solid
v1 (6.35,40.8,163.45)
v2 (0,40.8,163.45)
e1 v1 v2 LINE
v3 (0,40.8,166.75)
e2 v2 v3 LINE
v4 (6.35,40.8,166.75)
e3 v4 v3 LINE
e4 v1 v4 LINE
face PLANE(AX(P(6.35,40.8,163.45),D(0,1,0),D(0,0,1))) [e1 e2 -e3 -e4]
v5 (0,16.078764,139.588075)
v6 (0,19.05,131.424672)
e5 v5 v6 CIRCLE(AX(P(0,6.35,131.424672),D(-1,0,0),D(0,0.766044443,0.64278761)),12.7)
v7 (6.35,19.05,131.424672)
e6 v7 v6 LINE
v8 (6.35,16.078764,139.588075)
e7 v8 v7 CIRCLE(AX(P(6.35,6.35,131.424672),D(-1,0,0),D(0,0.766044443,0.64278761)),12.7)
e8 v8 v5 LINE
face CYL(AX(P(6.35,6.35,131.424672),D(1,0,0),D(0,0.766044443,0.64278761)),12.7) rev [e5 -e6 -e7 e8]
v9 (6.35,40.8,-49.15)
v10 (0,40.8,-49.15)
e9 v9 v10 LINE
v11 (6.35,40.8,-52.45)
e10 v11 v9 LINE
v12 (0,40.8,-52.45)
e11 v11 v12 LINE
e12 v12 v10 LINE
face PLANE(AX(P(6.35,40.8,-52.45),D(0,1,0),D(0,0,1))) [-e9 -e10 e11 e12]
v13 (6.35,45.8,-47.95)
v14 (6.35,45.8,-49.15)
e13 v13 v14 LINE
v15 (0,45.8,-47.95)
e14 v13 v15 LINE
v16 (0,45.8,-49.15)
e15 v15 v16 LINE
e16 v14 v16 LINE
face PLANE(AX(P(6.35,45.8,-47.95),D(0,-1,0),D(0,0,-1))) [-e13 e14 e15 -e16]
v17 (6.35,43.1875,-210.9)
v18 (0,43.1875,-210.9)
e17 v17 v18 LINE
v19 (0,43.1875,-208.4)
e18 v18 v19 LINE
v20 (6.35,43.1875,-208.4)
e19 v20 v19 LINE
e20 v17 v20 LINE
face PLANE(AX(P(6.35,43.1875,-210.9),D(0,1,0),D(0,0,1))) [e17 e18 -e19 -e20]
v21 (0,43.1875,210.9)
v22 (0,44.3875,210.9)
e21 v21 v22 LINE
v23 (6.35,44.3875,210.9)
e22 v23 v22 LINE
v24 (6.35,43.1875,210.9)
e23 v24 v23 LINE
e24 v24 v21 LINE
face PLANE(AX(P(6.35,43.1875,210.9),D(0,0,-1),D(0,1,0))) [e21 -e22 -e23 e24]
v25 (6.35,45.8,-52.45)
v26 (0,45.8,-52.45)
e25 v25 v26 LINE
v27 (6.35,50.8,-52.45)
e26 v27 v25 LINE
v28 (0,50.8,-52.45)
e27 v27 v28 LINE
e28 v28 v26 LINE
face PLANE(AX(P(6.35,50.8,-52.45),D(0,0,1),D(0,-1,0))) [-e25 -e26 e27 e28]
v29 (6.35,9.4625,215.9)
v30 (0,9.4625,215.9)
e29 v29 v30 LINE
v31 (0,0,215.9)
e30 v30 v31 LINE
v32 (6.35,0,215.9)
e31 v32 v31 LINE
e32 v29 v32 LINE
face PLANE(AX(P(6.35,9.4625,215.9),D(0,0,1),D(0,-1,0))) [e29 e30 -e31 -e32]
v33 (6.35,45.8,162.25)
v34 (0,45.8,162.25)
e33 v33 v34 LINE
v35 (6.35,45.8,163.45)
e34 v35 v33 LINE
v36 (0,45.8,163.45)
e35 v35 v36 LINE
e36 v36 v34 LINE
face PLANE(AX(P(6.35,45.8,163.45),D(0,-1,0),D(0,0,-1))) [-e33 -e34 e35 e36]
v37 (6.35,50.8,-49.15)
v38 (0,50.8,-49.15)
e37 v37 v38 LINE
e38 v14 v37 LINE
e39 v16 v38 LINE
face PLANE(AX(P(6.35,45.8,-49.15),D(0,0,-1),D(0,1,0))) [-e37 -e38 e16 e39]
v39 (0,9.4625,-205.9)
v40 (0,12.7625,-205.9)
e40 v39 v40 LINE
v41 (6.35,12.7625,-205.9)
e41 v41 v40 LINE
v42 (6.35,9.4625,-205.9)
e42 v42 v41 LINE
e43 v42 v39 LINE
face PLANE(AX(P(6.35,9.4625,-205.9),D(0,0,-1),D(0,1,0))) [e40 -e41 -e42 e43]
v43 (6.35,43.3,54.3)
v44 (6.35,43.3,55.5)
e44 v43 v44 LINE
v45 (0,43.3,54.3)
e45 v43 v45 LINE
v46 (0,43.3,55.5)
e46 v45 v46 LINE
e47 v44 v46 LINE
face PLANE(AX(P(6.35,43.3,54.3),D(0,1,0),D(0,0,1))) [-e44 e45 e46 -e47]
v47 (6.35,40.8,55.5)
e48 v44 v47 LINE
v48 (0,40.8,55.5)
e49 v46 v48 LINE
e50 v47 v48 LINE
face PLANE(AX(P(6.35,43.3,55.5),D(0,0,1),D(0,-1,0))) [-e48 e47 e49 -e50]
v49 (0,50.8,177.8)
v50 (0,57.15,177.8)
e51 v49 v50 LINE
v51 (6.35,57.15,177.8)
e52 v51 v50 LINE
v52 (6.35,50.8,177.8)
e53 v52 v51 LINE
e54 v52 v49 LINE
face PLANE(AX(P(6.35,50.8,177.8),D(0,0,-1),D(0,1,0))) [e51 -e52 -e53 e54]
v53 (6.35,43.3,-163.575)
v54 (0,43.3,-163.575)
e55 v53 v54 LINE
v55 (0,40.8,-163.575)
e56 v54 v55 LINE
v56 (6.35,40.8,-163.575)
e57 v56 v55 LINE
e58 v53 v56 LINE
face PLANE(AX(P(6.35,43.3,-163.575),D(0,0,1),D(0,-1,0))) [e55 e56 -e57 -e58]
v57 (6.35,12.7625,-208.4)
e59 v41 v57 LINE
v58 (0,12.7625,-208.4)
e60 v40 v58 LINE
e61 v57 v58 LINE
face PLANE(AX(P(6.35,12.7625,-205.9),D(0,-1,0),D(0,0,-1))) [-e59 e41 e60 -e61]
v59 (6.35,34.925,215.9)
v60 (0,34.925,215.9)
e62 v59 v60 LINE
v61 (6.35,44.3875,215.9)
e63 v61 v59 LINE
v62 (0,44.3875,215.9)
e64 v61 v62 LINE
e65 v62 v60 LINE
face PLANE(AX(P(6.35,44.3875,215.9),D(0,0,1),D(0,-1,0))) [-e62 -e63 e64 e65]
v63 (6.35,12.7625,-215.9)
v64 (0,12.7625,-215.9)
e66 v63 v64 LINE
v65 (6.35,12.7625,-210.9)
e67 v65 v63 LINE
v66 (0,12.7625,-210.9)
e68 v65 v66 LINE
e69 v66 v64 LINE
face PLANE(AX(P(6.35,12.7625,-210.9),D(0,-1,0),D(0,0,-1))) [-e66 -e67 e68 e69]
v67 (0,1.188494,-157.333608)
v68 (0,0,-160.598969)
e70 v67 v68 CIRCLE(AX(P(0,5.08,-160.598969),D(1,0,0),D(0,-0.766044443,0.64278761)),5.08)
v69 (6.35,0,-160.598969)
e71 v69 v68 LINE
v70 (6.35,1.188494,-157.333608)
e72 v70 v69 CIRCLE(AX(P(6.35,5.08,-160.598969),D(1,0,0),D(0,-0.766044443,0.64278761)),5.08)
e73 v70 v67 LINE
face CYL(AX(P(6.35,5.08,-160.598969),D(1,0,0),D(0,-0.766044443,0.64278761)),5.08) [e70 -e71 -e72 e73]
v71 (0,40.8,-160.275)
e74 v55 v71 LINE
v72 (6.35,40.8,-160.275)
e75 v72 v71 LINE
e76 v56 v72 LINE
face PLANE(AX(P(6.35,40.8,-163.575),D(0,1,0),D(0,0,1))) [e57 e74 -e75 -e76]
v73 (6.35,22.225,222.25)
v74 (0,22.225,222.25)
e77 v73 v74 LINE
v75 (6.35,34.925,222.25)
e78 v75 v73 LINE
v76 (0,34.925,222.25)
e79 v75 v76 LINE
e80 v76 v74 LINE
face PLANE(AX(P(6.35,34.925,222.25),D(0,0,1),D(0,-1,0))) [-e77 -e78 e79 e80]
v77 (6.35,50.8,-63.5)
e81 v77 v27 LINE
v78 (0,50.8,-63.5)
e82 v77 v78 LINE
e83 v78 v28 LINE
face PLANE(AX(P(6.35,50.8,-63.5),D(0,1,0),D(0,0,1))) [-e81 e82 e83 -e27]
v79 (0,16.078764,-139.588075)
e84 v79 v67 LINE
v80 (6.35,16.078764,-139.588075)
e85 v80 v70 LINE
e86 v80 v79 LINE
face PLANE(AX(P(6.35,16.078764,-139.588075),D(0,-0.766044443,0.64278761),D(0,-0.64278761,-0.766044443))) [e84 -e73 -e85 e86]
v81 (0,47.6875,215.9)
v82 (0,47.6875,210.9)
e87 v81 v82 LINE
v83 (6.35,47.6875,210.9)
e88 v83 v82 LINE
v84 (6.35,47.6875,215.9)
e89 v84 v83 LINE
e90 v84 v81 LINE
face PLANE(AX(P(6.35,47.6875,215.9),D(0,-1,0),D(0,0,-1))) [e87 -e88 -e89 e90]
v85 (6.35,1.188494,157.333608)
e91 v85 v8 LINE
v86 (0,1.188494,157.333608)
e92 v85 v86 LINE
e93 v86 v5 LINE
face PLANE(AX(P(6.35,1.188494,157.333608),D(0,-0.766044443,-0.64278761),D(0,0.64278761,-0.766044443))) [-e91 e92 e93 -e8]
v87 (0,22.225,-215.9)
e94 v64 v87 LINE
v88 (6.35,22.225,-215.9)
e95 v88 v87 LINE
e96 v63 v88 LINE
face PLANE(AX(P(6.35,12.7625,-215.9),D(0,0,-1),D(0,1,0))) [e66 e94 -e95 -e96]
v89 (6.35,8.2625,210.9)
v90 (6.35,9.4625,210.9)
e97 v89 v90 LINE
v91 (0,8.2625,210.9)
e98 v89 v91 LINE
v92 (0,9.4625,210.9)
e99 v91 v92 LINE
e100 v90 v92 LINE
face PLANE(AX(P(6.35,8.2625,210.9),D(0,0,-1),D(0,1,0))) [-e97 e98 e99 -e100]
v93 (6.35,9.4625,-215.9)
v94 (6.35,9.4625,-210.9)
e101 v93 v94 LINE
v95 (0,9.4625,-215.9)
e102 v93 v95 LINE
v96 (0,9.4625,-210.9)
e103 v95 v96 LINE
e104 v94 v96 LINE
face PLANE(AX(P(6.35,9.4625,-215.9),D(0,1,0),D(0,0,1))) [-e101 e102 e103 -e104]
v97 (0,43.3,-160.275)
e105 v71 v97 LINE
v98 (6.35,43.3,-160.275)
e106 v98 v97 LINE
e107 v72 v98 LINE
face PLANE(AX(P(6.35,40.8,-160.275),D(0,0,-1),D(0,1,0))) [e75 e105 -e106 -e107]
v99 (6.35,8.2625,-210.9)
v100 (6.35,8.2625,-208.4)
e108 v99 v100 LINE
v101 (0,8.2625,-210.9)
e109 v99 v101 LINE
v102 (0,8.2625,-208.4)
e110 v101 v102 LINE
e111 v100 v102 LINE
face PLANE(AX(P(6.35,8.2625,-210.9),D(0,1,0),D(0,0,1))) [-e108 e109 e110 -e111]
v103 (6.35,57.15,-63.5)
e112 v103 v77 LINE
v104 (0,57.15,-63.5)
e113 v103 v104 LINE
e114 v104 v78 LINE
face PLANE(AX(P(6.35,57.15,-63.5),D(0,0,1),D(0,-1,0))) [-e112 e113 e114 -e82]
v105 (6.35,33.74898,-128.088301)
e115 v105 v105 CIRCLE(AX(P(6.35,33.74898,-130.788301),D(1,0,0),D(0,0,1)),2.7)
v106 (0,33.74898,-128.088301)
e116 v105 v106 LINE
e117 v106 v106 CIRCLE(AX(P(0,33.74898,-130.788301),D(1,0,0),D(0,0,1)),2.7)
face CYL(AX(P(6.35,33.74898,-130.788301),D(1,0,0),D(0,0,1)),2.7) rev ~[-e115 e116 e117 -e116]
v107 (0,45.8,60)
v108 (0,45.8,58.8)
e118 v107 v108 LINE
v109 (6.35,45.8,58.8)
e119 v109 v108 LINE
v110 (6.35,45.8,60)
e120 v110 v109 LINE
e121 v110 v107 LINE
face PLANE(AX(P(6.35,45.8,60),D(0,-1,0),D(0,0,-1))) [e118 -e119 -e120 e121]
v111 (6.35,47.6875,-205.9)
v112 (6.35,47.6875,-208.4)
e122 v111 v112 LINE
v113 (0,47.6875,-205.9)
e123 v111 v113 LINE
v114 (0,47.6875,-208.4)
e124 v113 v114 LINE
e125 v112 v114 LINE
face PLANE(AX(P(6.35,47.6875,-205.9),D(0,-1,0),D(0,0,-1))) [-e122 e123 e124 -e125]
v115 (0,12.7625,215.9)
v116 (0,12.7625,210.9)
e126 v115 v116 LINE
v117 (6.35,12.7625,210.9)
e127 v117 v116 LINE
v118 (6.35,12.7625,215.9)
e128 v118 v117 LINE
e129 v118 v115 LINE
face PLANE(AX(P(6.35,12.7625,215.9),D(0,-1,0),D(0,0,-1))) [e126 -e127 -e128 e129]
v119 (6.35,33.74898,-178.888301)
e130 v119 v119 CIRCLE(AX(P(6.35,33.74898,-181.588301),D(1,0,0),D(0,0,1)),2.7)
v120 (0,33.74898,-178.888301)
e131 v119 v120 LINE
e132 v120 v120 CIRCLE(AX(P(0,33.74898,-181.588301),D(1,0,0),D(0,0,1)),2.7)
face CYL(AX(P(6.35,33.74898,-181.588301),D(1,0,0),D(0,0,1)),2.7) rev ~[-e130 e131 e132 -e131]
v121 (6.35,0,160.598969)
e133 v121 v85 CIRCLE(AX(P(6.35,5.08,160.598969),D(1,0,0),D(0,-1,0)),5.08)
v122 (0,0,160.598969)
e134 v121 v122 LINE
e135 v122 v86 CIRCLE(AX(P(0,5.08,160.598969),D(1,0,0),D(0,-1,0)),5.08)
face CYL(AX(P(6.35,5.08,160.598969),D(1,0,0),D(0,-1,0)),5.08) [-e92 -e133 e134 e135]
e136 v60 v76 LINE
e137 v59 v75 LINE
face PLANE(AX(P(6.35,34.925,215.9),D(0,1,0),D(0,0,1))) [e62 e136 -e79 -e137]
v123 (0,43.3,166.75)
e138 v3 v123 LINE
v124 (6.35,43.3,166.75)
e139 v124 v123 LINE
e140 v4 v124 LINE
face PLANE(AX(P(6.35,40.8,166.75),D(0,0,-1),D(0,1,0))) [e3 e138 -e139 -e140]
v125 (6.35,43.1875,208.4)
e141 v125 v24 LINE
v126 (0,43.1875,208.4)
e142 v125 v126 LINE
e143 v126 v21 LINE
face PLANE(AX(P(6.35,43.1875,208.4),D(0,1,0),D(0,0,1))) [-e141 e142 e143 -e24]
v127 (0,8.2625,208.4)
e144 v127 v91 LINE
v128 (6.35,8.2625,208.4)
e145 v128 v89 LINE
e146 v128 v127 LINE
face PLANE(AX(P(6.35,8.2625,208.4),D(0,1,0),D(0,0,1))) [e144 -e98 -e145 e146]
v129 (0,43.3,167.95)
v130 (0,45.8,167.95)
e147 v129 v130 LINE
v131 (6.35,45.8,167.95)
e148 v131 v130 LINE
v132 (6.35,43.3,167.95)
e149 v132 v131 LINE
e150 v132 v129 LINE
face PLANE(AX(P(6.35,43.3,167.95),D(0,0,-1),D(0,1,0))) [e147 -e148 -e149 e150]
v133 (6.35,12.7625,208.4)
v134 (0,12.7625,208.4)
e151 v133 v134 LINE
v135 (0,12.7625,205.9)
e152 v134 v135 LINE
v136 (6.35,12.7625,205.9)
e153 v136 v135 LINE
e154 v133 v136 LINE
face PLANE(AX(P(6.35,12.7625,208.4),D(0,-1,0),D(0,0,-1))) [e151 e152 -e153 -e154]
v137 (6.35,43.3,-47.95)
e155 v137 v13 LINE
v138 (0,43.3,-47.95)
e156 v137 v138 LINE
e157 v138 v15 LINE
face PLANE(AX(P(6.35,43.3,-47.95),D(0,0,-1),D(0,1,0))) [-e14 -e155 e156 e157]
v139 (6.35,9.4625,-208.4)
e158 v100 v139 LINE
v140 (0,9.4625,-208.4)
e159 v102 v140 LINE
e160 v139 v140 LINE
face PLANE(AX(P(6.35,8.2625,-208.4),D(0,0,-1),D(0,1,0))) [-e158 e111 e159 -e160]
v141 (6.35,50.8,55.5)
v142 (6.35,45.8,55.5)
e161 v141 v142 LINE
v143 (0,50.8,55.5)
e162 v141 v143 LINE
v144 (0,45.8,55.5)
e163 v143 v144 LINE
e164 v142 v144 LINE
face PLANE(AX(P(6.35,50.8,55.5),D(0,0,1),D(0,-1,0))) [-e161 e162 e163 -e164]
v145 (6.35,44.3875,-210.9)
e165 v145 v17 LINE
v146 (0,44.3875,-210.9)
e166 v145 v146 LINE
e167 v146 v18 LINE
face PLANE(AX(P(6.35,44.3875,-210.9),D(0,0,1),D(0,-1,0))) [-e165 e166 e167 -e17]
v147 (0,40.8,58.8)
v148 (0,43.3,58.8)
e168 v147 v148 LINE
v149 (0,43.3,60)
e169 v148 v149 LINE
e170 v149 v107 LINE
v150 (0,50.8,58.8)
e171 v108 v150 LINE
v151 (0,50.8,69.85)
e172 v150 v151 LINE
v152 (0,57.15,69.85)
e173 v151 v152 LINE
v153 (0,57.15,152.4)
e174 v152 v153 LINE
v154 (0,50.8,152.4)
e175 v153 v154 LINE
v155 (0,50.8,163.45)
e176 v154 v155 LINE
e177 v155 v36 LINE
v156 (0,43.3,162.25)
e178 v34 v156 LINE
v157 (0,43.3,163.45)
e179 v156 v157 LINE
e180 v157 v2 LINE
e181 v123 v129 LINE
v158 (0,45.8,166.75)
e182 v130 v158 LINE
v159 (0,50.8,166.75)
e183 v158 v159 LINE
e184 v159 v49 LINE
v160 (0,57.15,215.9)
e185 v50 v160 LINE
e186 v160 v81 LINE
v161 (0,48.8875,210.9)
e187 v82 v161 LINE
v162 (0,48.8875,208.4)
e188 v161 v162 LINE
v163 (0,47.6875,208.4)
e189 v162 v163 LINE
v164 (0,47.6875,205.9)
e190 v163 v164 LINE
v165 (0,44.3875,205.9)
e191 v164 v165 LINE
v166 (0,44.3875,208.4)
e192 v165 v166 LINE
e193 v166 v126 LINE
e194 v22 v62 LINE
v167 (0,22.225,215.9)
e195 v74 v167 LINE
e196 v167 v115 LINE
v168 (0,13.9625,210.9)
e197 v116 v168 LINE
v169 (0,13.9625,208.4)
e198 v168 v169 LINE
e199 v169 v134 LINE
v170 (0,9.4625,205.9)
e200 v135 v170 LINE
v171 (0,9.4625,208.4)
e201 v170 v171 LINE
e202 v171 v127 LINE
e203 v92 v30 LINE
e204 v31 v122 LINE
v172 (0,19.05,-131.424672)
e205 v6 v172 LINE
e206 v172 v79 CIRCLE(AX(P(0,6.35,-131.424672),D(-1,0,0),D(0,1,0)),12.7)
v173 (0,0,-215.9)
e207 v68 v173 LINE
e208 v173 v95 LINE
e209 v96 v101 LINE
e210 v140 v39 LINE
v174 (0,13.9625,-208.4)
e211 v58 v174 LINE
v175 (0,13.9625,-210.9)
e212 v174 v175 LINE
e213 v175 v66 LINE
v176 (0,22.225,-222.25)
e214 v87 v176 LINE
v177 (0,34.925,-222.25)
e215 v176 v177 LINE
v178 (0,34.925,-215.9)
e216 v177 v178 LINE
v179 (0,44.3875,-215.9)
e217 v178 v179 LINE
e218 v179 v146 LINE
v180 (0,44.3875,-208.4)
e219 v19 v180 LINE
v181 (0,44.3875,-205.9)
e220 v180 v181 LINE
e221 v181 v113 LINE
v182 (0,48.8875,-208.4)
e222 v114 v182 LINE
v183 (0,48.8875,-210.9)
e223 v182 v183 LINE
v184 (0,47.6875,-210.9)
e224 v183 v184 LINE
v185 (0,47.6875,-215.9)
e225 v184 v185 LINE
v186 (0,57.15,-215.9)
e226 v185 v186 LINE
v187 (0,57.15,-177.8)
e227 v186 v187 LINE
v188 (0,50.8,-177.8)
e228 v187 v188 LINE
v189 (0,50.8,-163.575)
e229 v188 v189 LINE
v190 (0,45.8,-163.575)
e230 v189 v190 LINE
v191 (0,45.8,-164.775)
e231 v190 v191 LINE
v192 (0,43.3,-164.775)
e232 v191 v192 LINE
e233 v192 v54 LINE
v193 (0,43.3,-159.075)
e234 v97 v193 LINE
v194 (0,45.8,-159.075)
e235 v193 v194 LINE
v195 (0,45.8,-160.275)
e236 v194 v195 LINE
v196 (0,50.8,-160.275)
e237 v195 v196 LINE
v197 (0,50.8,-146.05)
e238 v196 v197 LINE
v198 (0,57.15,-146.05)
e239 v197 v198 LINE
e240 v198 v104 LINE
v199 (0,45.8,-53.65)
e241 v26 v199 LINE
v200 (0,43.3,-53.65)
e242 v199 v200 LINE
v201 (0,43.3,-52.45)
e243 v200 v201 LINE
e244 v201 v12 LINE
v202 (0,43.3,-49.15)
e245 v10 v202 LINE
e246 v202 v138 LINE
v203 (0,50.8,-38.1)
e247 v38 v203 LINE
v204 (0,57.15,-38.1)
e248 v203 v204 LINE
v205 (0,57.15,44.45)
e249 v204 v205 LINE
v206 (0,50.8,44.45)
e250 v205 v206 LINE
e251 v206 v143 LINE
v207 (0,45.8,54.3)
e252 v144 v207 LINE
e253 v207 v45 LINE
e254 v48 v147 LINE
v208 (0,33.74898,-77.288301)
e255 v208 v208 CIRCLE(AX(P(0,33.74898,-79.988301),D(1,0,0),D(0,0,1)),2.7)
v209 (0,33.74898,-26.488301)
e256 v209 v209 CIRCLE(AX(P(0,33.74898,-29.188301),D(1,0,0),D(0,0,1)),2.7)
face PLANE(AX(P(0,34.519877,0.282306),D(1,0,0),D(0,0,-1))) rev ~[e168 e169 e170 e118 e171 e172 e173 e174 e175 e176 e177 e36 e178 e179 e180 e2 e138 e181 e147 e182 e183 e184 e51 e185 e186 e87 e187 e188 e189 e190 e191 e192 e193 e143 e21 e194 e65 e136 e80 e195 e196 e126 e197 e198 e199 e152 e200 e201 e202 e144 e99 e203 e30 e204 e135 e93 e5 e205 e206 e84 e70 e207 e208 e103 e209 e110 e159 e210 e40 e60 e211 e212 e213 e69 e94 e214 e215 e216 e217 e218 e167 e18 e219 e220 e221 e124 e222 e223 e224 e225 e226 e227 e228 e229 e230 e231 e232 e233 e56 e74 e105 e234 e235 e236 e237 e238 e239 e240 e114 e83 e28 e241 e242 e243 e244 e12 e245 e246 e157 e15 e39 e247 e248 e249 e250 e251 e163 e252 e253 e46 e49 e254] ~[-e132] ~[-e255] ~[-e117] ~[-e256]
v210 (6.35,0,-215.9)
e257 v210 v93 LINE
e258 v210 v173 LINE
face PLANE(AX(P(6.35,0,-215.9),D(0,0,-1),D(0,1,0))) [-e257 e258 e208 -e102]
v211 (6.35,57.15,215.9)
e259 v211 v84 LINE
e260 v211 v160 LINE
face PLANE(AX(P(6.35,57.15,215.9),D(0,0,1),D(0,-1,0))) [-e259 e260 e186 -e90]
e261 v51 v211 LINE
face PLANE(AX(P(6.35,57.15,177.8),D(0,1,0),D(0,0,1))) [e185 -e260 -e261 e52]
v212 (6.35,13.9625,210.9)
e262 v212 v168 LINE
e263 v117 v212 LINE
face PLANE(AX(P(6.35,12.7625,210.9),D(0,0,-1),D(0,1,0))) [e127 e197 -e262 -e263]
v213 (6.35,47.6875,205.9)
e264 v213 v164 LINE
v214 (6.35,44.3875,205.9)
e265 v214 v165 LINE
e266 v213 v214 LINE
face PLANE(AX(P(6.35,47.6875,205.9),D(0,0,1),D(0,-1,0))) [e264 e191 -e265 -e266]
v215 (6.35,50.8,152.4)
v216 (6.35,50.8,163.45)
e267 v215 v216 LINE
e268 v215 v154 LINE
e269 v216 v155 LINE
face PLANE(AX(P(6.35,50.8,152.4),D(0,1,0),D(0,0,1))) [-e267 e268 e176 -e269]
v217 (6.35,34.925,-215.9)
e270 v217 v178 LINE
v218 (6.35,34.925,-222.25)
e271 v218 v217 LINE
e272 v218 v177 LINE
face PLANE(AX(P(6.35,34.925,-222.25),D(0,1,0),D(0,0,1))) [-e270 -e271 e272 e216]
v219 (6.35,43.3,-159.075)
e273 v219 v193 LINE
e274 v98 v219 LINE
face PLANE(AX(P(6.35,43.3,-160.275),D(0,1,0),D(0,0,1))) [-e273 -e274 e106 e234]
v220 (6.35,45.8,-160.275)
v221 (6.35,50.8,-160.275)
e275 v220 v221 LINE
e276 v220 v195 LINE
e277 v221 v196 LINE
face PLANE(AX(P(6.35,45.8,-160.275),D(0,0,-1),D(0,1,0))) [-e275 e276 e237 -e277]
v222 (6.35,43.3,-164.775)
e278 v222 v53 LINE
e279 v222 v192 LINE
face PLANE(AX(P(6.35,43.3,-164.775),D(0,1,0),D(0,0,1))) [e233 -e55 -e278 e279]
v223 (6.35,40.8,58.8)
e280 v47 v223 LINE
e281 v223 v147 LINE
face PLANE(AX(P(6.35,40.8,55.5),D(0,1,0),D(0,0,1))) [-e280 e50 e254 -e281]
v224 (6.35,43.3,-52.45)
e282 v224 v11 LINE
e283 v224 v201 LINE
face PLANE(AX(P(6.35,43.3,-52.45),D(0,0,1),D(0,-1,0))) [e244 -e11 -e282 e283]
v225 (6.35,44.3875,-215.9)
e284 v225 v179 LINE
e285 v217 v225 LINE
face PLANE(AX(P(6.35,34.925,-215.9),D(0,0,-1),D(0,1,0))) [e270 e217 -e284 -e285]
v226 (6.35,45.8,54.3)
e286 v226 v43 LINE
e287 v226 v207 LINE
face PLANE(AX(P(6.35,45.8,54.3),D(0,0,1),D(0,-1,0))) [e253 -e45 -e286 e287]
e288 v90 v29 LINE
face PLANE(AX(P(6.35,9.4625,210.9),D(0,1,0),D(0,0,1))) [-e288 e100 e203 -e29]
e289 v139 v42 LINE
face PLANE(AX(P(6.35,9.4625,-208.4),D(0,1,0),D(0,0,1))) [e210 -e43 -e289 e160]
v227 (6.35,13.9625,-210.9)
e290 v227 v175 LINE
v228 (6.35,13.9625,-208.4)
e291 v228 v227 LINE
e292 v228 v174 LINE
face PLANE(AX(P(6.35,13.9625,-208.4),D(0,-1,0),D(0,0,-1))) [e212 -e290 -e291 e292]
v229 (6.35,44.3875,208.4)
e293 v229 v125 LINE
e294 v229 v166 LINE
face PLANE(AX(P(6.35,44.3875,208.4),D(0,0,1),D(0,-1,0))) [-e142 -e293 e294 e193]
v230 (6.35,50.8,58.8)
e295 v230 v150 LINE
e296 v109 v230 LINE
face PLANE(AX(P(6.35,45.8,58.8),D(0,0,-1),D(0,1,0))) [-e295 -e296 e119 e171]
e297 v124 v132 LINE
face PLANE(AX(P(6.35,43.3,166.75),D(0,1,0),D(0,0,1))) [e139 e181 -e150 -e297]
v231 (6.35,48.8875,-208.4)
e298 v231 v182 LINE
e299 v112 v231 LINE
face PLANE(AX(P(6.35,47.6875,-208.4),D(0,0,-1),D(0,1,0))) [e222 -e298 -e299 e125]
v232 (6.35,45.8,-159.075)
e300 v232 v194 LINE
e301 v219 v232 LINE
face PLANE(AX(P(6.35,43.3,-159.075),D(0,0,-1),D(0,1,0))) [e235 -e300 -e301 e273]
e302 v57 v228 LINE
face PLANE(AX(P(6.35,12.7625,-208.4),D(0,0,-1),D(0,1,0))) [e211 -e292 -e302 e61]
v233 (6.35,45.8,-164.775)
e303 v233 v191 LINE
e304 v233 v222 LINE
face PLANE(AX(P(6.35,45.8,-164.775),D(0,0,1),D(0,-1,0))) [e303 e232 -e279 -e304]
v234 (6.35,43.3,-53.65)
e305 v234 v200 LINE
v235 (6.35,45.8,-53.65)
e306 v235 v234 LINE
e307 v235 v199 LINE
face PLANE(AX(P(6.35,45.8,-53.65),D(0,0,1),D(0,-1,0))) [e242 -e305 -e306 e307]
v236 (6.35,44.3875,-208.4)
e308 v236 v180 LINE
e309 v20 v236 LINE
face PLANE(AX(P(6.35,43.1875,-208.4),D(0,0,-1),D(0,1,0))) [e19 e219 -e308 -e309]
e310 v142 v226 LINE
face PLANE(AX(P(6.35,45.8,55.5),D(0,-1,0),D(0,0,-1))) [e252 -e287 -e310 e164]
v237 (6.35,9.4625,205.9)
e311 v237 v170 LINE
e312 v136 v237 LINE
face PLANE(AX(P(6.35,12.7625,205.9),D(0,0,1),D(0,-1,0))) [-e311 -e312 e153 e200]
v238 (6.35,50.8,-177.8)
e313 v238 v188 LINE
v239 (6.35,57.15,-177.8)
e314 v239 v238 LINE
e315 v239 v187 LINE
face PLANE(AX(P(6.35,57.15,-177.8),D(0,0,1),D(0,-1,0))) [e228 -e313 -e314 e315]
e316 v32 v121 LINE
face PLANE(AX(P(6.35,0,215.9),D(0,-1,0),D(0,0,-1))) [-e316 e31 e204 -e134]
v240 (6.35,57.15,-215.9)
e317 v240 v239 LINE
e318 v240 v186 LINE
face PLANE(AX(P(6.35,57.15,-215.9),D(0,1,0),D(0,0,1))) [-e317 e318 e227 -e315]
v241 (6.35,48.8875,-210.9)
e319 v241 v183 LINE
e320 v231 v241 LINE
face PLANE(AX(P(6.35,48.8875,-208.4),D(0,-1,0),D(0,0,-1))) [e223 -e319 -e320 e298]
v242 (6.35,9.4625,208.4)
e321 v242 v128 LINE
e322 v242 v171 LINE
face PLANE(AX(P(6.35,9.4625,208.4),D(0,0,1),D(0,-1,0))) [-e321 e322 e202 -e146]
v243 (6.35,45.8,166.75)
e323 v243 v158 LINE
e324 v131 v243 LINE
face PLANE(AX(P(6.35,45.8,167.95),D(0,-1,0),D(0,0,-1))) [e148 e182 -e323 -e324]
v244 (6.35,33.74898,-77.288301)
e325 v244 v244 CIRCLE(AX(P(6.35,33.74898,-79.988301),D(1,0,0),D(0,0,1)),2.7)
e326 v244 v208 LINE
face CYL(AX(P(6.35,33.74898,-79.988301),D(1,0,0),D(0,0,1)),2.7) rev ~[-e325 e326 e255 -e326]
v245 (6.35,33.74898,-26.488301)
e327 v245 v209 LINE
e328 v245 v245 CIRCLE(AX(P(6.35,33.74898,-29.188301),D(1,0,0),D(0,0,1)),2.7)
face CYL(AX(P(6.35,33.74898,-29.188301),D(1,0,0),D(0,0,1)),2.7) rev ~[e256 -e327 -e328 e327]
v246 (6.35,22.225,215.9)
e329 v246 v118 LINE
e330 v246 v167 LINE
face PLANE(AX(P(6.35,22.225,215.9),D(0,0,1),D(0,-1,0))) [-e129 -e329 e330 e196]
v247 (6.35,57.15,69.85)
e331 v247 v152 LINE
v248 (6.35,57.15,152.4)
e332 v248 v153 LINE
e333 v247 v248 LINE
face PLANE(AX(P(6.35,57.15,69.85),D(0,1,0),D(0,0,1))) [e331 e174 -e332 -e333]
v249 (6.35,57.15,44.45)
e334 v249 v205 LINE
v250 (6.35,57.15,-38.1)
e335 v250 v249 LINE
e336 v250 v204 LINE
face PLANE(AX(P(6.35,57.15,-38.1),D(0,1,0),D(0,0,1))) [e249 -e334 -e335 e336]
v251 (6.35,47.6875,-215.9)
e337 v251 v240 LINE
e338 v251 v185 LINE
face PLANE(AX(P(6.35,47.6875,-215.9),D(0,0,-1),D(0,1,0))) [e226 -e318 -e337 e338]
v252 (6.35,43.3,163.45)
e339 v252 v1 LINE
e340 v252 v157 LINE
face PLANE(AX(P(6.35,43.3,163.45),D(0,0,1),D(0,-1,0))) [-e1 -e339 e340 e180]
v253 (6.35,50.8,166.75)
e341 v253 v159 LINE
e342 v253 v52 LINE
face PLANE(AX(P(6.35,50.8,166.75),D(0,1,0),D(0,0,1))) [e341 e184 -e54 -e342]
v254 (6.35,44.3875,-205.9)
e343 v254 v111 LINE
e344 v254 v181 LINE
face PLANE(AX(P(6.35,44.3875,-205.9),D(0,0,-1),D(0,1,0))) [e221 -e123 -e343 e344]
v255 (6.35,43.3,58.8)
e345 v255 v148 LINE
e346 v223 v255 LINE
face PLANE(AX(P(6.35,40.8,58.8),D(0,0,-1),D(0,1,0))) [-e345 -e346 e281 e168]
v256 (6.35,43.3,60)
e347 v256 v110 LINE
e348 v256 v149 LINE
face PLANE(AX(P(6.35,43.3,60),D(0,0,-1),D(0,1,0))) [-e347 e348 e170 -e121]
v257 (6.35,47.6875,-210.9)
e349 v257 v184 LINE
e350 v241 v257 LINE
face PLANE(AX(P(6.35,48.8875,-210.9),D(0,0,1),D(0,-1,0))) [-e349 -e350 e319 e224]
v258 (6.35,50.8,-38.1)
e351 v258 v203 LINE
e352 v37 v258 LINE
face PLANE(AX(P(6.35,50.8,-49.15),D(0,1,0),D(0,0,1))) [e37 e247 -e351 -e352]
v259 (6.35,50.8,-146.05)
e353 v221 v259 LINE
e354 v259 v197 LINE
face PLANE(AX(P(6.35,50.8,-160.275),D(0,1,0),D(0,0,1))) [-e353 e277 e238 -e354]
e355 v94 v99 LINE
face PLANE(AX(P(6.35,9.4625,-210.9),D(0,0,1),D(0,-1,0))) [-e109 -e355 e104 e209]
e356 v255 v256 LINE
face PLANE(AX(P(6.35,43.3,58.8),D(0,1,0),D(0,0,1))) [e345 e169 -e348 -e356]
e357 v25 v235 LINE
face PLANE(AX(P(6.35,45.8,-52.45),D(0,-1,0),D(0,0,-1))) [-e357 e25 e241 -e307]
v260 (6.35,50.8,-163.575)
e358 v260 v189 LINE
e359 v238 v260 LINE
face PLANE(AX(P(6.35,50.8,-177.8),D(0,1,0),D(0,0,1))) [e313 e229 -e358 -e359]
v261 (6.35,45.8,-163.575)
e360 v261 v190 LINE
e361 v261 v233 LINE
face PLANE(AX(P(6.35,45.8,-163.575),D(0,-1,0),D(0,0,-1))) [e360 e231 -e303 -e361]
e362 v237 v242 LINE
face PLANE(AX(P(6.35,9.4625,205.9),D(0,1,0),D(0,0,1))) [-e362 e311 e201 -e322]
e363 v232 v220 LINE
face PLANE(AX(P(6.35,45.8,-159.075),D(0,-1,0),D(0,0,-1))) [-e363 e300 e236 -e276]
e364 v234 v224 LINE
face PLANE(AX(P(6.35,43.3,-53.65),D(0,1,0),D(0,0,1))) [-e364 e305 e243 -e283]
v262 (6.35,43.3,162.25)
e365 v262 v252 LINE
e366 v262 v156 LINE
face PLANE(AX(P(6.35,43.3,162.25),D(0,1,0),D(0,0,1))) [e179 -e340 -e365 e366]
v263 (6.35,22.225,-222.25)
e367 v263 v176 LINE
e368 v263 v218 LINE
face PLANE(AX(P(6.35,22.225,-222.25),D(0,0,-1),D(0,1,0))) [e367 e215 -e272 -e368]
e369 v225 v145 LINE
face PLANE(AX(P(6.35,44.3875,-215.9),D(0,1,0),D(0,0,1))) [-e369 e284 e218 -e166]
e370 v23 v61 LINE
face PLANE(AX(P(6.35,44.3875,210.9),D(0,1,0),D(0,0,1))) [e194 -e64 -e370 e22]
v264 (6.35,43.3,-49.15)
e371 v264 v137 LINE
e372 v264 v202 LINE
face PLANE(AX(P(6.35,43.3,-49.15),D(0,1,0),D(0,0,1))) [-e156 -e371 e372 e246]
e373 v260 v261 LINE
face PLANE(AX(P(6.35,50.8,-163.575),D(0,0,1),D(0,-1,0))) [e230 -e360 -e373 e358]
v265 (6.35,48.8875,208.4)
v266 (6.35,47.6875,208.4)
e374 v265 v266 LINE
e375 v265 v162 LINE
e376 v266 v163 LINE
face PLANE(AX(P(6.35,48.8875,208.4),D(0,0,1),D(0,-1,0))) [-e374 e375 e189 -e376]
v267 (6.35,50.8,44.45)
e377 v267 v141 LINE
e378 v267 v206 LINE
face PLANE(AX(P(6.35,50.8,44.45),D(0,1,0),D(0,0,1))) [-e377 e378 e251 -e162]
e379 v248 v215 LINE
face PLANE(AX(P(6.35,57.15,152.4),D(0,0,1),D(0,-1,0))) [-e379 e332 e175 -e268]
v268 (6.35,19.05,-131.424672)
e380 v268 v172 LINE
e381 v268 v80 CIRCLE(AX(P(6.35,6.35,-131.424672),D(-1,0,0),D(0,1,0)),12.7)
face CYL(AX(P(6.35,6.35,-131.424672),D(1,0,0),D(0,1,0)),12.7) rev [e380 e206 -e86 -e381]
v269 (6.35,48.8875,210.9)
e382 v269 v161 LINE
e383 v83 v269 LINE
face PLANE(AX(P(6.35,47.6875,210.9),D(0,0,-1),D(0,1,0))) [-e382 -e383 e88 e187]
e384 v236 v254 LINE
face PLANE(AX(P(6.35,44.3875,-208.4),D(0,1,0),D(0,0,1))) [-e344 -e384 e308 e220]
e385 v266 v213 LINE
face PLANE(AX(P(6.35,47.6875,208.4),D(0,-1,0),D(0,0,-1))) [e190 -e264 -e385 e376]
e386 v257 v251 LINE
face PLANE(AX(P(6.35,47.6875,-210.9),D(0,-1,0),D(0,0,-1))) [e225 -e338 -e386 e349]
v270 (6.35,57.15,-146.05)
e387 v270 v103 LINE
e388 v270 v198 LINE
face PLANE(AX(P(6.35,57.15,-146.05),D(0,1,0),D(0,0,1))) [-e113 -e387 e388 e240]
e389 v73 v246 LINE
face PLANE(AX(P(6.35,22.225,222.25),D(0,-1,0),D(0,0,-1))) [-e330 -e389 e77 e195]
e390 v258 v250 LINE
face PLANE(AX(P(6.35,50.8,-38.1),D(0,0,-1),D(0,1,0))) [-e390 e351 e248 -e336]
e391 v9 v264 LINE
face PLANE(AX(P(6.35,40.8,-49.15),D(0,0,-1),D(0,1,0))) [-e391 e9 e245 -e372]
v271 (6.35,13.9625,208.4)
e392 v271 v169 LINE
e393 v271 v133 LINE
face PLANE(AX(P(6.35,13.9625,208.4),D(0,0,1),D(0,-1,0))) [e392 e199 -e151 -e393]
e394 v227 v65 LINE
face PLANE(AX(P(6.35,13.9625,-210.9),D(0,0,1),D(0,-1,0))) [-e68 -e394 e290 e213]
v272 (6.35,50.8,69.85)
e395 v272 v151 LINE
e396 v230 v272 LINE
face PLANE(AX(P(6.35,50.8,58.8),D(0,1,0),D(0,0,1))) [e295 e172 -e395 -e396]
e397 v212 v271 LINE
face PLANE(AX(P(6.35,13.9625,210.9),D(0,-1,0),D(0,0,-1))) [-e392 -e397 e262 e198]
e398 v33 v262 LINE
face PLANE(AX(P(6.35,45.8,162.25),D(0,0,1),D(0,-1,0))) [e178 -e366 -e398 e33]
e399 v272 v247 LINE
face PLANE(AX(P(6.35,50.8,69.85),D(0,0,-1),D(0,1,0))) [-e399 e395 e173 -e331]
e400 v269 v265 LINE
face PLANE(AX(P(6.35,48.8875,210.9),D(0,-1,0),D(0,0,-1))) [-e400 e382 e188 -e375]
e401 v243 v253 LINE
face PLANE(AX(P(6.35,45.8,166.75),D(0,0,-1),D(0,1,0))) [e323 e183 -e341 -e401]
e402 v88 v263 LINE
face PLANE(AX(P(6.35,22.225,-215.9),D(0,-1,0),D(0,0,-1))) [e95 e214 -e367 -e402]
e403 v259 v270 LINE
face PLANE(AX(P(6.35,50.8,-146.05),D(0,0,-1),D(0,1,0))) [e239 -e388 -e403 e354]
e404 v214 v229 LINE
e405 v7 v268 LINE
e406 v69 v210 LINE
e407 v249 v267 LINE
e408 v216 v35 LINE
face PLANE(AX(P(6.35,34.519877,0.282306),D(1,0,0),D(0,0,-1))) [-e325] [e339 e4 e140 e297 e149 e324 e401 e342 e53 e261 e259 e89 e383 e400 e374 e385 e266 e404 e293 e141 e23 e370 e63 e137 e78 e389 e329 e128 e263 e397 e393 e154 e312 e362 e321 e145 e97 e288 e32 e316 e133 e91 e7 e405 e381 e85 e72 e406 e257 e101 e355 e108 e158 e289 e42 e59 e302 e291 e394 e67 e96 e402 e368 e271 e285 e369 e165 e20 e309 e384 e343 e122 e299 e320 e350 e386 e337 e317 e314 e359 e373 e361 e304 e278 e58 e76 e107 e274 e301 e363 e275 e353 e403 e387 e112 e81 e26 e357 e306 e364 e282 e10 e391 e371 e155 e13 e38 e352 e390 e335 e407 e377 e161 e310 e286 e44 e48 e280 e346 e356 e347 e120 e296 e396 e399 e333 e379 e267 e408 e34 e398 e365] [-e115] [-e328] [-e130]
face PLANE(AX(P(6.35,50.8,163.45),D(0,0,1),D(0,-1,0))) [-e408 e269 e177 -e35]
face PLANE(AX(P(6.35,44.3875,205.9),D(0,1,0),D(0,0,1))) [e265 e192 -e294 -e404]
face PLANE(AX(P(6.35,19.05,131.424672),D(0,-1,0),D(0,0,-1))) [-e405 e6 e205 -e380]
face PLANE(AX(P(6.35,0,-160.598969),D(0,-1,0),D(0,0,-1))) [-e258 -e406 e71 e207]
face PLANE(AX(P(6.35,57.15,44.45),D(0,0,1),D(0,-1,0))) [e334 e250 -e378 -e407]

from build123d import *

# Parameters (mm, degrees)
SKETCH1_R           = 2.7
BOSS_EXTRUDE1_DEPTH = 6.35


with BuildPart() as part:
    # Sketch1 → Boss-Extrude1 (new body)
    with BuildSketch(Plane(origin=(6.35, 0, 0), x_dir=(0, 0, -1), z_dir=(1, 0, 0))):
        with BuildLine():
            Line((-44.45, 57.15), (-44.45, 50.8))
            Line((-44.45, 50.8), (-55.5, 50.8))
            Line((-55.5, 50.8), (-55.5, 45.8))
            Line((-55.5, 45.8), (-54.3, 45.8))
            Line((-54.3, 45.8), (-54.3, 43.3))
            Line((-54.3, 43.3), (-55.5, 43.3))
            Line((-55.5, 43.3), (-55.5, 40.8))
            Line((-55.5, 40.8), (-58.8, 40.8))
            Line((-58.8, 40.8), (-58.8, 43.3))
            Line((-58.8, 43.3), (-60, 43.3))
            Line((-60, 43.3), (-60, 45.8))
            Line((-60, 45.8), (-58.8, 45.8))
            Line((-58.8, 45.8), (-58.8, 50.8))
            Line((-58.8, 50.8), (-69.85, 50.8))
            Line((-69.85, 50.8), (-69.85, 57.15))
            Line((-69.85, 57.15), (-152.4, 57.15))
            Line((-152.4, 57.15), (-152.4, 50.8))
            Line((-152.4, 50.8), (-163.45, 50.8))
            Line((-163.45, 50.8), (-163.45, 45.8))
            Line((-163.45, 45.8), (-162.25, 45.8))
            Line((-162.25, 45.8), (-162.25, 43.3))
            Line((-162.25, 43.3), (-163.45, 43.3))
            Line((-163.45, 43.3), (-163.45, 40.8))
            Line((-163.45, 40.8), (-166.75, 40.8))
            Line((-166.75, 40.8), (-166.75, 43.3))
            Line((-166.75, 43.3), (-167.95, 43.3))
            Line((-167.95, 43.3), (-167.95, 45.8))
            Line((-167.95, 45.8), (-166.75, 45.8))
            Line((-166.75, 45.8), (-166.75, 50.8))
            Line((-166.75, 50.8), (-177.8, 50.8))
            Line((-177.8, 50.8), (-177.8, 57.15))
            Line((-177.8, 57.15), (-215.9, 57.15))
            Line((-215.9, 57.15), (-215.9, 47.6875))
            Line((-215.9, 47.6875), (-210.9, 47.6875))
            Line((-210.9, 47.6875), (-210.9, 48.8875))
            Line((-210.9, 48.8875), (-208.4, 48.8875))
            Line((-208.4, 48.8875), (-208.4, 47.6875))
            Line((-208.4, 47.6875), (-205.9, 47.6875))
            Line((-205.9, 47.6875), (-205.9, 44.3875))
            Line((-205.9, 44.3875), (-208.4, 44.3875))
            Line((-208.4, 44.3875), (-208.4, 43.1875))
            Line((-208.4, 43.1875), (-210.9, 43.1875))
            Line((-210.9, 43.1875), (-210.9, 44.3875))
            Line((-210.9, 44.3875), (-215.9, 44.3875))
            Line((-215.9, 44.3875), (-215.9, 34.925))
            Line((-215.9, 34.925), (-222.25, 34.925))
            Line((-222.25, 34.925), (-222.25, 22.225))
            Line((-222.25, 22.225), (-215.9, 22.225))
            Line((-215.9, 22.225), (-215.9, 12.7625))
            Line((-215.9, 12.7625), (-210.9, 12.7625))
            Line((-210.9, 12.7625), (-210.9, 13.9625))
            Line((-210.9, 13.9625), (-208.4, 13.9625))
            Line((-208.4, 13.9625), (-208.4, 12.7625))
            Line((-208.4, 12.7625), (-205.9, 12.7625))
            Line((-205.9, 12.7625), (-205.9, 9.4625))
            Line((-205.9, 9.4625), (-208.4, 9.4625))
            Line((-208.4, 9.4625), (-208.4, 8.2625))
            Line((-208.4, 8.2625), (-210.9, 8.2625))
            Line((-210.9, 8.2625), (-210.9, 9.4625))
            Line((-210.9, 9.4625), (-215.9, 9.4625))
            Line((-215.9, 9.4625), (-215.9, 0))
            Line((-215.9, 0), (-160.59896879, 0))
            ThreePointArc((-160.59896879, 0), (-158.861506462, 0.306361486), (-157.333607733, 1.188494229))
            Line((-157.333607733, 1.188494229), (-139.588074729, 16.078764428))
            ThreePointArc((-139.588074729, 16.078764428), (-135.768327906, 18.284096284), (-131.424672086, 19.05))
            Line((-131.424672086, 19.05), (131.424672086, 19.05))
            ThreePointArc((131.424672086, 19.05), (135.768327906, 18.284096284), (139.588074729, 16.078764428))
            Line((139.588074729, 16.078764428), (157.333607733, 1.188494229))
            ThreePointArc((157.333607733, 1.188494229), (158.861506462, 0.306361486), (160.59896879, 0))
            Line((160.59896879, 0), (215.9, 0))
            Line((215.9, 0), (215.9, 9.4625))
            Line((215.9, 9.4625), (210.9, 9.4625))
            Line((210.9, 9.4625), (210.9, 8.2625))
            Line((210.9, 8.2625), (208.4, 8.2625))
            Line((208.4, 8.2625), (208.4, 9.4625))
            Line((208.4, 9.4625), (205.9, 9.4625))
            Line((205.9, 9.4625), (205.9, 12.7625))
            Line((205.9, 12.7625), (208.4, 12.7625))
            Line((208.4, 12.7625), (208.4, 13.9625))
            Line((208.4, 13.9625), (210.9, 13.9625))
            Line((210.9, 13.9625), (210.9, 12.7625))
            Line((210.9, 12.7625), (215.9, 12.7625))
            Line((215.9, 12.7625), (215.9, 22.225))
            Line((215.9, 22.225), (222.25, 22.225))
            Line((222.25, 22.225), (222.25, 34.925))
            Line((222.25, 34.925), (215.9, 34.925))
            Line((215.9, 34.925), (215.9, 44.3875))
            Line((215.9, 44.3875), (210.9, 44.3875))
            Line((210.9, 44.3875), (210.9, 43.1875))
            Line((210.9, 43.1875), (208.4, 43.1875))
            Line((208.4, 43.1875), (208.4, 44.3875))
            Line((208.4, 44.3875), (205.9, 44.3875))
            Line((205.9, 44.3875), (205.9, 47.6875))
            Line((205.9, 47.6875), (208.4, 47.6875))
            Line((208.4, 47.6875), (208.4, 48.8875))
            Line((208.4, 48.8875), (210.9, 48.8875))
            Line((210.9, 48.8875), (210.9, 47.6875))
            Line((210.9, 47.6875), (215.9, 47.6875))
            Line((215.9, 47.6875), (215.9, 57.15))
            Line((215.9, 57.15), (177.8, 57.15))
            Line((177.8, 57.15), (177.8, 50.8))
            Line((177.8, 50.8), (163.575, 50.8))
            Line((163.575, 50.8), (163.575, 45.8))
            Line((163.575, 45.8), (164.775, 45.8))
            Line((164.775, 45.8), (164.775, 43.3))
            Line((164.775, 43.3), (163.575, 43.3))
            Line((163.575, 43.3), (163.575, 40.8))
            Line((163.575, 40.8), (160.275, 40.8))
            Line((160.275, 40.8), (160.275, 43.3))
            Line((160.275, 43.3), (159.075, 43.3))
            Line((159.075, 43.3), (159.075, 45.8))
            Line((159.075, 45.8), (160.275, 45.8))
            Line((160.275, 45.8), (160.275, 50.8))
            Line((160.275, 50.8), (146.05, 50.8))
            Line((146.05, 50.8), (146.05, 57.15))
            Line((146.05, 57.15), (63.5, 57.15))
            Line((63.5, 57.15), (63.5, 50.8))
            Line((63.5, 50.8), (52.45, 50.8))
            Line((52.45, 50.8), (52.45, 45.8))
            Line((52.45, 45.8), (53.65, 45.8))
            Line((53.65, 45.8), (53.65, 43.3))
            Line((53.65, 43.3), (52.45, 43.3))
            Line((52.45, 43.3), (52.45, 40.8))
            Line((52.45, 40.8), (49.15, 40.8))
            Line((49.15, 40.8), (49.15, 43.3))
            Line((49.15, 43.3), (47.95, 43.3))
            Line((47.95, 43.3), (47.95, 45.8))
            Line((47.95, 45.8), (49.15, 45.8))
            Line((49.15, 45.8), (49.15, 50.8))
            Line((49.15, 50.8), (38.1, 50.8))
            Line((38.1, 50.8), (38.1, 57.15))
            Line((38.1, 57.15), (-44.45, 57.15))
        make_face()
        with Locations(Location((79.988301448, 33.74898, 0), (0, 0, 180))):
            Circle(SKETCH1_R, mode=Mode.SUBTRACT)
        with Locations(Location((130.788301448, 33.74898, 0), (0, 0, 180))):
            Circle(SKETCH1_R, mode=Mode.SUBTRACT)
        with Locations(Location((29.188301448, 33.74898, 0), (0, 0, 180))):
            Circle(SKETCH1_R, mode=Mode.SUBTRACT)
        with Locations(Location((181.588301448, 33.74898, 0), (0, 0, 180))):
            Circle(SKETCH1_R, mode=Mode.SUBTRACT)
    extrude(amount=-BOSS_EXTRUDE1_DEPTH)


solid = part.part
